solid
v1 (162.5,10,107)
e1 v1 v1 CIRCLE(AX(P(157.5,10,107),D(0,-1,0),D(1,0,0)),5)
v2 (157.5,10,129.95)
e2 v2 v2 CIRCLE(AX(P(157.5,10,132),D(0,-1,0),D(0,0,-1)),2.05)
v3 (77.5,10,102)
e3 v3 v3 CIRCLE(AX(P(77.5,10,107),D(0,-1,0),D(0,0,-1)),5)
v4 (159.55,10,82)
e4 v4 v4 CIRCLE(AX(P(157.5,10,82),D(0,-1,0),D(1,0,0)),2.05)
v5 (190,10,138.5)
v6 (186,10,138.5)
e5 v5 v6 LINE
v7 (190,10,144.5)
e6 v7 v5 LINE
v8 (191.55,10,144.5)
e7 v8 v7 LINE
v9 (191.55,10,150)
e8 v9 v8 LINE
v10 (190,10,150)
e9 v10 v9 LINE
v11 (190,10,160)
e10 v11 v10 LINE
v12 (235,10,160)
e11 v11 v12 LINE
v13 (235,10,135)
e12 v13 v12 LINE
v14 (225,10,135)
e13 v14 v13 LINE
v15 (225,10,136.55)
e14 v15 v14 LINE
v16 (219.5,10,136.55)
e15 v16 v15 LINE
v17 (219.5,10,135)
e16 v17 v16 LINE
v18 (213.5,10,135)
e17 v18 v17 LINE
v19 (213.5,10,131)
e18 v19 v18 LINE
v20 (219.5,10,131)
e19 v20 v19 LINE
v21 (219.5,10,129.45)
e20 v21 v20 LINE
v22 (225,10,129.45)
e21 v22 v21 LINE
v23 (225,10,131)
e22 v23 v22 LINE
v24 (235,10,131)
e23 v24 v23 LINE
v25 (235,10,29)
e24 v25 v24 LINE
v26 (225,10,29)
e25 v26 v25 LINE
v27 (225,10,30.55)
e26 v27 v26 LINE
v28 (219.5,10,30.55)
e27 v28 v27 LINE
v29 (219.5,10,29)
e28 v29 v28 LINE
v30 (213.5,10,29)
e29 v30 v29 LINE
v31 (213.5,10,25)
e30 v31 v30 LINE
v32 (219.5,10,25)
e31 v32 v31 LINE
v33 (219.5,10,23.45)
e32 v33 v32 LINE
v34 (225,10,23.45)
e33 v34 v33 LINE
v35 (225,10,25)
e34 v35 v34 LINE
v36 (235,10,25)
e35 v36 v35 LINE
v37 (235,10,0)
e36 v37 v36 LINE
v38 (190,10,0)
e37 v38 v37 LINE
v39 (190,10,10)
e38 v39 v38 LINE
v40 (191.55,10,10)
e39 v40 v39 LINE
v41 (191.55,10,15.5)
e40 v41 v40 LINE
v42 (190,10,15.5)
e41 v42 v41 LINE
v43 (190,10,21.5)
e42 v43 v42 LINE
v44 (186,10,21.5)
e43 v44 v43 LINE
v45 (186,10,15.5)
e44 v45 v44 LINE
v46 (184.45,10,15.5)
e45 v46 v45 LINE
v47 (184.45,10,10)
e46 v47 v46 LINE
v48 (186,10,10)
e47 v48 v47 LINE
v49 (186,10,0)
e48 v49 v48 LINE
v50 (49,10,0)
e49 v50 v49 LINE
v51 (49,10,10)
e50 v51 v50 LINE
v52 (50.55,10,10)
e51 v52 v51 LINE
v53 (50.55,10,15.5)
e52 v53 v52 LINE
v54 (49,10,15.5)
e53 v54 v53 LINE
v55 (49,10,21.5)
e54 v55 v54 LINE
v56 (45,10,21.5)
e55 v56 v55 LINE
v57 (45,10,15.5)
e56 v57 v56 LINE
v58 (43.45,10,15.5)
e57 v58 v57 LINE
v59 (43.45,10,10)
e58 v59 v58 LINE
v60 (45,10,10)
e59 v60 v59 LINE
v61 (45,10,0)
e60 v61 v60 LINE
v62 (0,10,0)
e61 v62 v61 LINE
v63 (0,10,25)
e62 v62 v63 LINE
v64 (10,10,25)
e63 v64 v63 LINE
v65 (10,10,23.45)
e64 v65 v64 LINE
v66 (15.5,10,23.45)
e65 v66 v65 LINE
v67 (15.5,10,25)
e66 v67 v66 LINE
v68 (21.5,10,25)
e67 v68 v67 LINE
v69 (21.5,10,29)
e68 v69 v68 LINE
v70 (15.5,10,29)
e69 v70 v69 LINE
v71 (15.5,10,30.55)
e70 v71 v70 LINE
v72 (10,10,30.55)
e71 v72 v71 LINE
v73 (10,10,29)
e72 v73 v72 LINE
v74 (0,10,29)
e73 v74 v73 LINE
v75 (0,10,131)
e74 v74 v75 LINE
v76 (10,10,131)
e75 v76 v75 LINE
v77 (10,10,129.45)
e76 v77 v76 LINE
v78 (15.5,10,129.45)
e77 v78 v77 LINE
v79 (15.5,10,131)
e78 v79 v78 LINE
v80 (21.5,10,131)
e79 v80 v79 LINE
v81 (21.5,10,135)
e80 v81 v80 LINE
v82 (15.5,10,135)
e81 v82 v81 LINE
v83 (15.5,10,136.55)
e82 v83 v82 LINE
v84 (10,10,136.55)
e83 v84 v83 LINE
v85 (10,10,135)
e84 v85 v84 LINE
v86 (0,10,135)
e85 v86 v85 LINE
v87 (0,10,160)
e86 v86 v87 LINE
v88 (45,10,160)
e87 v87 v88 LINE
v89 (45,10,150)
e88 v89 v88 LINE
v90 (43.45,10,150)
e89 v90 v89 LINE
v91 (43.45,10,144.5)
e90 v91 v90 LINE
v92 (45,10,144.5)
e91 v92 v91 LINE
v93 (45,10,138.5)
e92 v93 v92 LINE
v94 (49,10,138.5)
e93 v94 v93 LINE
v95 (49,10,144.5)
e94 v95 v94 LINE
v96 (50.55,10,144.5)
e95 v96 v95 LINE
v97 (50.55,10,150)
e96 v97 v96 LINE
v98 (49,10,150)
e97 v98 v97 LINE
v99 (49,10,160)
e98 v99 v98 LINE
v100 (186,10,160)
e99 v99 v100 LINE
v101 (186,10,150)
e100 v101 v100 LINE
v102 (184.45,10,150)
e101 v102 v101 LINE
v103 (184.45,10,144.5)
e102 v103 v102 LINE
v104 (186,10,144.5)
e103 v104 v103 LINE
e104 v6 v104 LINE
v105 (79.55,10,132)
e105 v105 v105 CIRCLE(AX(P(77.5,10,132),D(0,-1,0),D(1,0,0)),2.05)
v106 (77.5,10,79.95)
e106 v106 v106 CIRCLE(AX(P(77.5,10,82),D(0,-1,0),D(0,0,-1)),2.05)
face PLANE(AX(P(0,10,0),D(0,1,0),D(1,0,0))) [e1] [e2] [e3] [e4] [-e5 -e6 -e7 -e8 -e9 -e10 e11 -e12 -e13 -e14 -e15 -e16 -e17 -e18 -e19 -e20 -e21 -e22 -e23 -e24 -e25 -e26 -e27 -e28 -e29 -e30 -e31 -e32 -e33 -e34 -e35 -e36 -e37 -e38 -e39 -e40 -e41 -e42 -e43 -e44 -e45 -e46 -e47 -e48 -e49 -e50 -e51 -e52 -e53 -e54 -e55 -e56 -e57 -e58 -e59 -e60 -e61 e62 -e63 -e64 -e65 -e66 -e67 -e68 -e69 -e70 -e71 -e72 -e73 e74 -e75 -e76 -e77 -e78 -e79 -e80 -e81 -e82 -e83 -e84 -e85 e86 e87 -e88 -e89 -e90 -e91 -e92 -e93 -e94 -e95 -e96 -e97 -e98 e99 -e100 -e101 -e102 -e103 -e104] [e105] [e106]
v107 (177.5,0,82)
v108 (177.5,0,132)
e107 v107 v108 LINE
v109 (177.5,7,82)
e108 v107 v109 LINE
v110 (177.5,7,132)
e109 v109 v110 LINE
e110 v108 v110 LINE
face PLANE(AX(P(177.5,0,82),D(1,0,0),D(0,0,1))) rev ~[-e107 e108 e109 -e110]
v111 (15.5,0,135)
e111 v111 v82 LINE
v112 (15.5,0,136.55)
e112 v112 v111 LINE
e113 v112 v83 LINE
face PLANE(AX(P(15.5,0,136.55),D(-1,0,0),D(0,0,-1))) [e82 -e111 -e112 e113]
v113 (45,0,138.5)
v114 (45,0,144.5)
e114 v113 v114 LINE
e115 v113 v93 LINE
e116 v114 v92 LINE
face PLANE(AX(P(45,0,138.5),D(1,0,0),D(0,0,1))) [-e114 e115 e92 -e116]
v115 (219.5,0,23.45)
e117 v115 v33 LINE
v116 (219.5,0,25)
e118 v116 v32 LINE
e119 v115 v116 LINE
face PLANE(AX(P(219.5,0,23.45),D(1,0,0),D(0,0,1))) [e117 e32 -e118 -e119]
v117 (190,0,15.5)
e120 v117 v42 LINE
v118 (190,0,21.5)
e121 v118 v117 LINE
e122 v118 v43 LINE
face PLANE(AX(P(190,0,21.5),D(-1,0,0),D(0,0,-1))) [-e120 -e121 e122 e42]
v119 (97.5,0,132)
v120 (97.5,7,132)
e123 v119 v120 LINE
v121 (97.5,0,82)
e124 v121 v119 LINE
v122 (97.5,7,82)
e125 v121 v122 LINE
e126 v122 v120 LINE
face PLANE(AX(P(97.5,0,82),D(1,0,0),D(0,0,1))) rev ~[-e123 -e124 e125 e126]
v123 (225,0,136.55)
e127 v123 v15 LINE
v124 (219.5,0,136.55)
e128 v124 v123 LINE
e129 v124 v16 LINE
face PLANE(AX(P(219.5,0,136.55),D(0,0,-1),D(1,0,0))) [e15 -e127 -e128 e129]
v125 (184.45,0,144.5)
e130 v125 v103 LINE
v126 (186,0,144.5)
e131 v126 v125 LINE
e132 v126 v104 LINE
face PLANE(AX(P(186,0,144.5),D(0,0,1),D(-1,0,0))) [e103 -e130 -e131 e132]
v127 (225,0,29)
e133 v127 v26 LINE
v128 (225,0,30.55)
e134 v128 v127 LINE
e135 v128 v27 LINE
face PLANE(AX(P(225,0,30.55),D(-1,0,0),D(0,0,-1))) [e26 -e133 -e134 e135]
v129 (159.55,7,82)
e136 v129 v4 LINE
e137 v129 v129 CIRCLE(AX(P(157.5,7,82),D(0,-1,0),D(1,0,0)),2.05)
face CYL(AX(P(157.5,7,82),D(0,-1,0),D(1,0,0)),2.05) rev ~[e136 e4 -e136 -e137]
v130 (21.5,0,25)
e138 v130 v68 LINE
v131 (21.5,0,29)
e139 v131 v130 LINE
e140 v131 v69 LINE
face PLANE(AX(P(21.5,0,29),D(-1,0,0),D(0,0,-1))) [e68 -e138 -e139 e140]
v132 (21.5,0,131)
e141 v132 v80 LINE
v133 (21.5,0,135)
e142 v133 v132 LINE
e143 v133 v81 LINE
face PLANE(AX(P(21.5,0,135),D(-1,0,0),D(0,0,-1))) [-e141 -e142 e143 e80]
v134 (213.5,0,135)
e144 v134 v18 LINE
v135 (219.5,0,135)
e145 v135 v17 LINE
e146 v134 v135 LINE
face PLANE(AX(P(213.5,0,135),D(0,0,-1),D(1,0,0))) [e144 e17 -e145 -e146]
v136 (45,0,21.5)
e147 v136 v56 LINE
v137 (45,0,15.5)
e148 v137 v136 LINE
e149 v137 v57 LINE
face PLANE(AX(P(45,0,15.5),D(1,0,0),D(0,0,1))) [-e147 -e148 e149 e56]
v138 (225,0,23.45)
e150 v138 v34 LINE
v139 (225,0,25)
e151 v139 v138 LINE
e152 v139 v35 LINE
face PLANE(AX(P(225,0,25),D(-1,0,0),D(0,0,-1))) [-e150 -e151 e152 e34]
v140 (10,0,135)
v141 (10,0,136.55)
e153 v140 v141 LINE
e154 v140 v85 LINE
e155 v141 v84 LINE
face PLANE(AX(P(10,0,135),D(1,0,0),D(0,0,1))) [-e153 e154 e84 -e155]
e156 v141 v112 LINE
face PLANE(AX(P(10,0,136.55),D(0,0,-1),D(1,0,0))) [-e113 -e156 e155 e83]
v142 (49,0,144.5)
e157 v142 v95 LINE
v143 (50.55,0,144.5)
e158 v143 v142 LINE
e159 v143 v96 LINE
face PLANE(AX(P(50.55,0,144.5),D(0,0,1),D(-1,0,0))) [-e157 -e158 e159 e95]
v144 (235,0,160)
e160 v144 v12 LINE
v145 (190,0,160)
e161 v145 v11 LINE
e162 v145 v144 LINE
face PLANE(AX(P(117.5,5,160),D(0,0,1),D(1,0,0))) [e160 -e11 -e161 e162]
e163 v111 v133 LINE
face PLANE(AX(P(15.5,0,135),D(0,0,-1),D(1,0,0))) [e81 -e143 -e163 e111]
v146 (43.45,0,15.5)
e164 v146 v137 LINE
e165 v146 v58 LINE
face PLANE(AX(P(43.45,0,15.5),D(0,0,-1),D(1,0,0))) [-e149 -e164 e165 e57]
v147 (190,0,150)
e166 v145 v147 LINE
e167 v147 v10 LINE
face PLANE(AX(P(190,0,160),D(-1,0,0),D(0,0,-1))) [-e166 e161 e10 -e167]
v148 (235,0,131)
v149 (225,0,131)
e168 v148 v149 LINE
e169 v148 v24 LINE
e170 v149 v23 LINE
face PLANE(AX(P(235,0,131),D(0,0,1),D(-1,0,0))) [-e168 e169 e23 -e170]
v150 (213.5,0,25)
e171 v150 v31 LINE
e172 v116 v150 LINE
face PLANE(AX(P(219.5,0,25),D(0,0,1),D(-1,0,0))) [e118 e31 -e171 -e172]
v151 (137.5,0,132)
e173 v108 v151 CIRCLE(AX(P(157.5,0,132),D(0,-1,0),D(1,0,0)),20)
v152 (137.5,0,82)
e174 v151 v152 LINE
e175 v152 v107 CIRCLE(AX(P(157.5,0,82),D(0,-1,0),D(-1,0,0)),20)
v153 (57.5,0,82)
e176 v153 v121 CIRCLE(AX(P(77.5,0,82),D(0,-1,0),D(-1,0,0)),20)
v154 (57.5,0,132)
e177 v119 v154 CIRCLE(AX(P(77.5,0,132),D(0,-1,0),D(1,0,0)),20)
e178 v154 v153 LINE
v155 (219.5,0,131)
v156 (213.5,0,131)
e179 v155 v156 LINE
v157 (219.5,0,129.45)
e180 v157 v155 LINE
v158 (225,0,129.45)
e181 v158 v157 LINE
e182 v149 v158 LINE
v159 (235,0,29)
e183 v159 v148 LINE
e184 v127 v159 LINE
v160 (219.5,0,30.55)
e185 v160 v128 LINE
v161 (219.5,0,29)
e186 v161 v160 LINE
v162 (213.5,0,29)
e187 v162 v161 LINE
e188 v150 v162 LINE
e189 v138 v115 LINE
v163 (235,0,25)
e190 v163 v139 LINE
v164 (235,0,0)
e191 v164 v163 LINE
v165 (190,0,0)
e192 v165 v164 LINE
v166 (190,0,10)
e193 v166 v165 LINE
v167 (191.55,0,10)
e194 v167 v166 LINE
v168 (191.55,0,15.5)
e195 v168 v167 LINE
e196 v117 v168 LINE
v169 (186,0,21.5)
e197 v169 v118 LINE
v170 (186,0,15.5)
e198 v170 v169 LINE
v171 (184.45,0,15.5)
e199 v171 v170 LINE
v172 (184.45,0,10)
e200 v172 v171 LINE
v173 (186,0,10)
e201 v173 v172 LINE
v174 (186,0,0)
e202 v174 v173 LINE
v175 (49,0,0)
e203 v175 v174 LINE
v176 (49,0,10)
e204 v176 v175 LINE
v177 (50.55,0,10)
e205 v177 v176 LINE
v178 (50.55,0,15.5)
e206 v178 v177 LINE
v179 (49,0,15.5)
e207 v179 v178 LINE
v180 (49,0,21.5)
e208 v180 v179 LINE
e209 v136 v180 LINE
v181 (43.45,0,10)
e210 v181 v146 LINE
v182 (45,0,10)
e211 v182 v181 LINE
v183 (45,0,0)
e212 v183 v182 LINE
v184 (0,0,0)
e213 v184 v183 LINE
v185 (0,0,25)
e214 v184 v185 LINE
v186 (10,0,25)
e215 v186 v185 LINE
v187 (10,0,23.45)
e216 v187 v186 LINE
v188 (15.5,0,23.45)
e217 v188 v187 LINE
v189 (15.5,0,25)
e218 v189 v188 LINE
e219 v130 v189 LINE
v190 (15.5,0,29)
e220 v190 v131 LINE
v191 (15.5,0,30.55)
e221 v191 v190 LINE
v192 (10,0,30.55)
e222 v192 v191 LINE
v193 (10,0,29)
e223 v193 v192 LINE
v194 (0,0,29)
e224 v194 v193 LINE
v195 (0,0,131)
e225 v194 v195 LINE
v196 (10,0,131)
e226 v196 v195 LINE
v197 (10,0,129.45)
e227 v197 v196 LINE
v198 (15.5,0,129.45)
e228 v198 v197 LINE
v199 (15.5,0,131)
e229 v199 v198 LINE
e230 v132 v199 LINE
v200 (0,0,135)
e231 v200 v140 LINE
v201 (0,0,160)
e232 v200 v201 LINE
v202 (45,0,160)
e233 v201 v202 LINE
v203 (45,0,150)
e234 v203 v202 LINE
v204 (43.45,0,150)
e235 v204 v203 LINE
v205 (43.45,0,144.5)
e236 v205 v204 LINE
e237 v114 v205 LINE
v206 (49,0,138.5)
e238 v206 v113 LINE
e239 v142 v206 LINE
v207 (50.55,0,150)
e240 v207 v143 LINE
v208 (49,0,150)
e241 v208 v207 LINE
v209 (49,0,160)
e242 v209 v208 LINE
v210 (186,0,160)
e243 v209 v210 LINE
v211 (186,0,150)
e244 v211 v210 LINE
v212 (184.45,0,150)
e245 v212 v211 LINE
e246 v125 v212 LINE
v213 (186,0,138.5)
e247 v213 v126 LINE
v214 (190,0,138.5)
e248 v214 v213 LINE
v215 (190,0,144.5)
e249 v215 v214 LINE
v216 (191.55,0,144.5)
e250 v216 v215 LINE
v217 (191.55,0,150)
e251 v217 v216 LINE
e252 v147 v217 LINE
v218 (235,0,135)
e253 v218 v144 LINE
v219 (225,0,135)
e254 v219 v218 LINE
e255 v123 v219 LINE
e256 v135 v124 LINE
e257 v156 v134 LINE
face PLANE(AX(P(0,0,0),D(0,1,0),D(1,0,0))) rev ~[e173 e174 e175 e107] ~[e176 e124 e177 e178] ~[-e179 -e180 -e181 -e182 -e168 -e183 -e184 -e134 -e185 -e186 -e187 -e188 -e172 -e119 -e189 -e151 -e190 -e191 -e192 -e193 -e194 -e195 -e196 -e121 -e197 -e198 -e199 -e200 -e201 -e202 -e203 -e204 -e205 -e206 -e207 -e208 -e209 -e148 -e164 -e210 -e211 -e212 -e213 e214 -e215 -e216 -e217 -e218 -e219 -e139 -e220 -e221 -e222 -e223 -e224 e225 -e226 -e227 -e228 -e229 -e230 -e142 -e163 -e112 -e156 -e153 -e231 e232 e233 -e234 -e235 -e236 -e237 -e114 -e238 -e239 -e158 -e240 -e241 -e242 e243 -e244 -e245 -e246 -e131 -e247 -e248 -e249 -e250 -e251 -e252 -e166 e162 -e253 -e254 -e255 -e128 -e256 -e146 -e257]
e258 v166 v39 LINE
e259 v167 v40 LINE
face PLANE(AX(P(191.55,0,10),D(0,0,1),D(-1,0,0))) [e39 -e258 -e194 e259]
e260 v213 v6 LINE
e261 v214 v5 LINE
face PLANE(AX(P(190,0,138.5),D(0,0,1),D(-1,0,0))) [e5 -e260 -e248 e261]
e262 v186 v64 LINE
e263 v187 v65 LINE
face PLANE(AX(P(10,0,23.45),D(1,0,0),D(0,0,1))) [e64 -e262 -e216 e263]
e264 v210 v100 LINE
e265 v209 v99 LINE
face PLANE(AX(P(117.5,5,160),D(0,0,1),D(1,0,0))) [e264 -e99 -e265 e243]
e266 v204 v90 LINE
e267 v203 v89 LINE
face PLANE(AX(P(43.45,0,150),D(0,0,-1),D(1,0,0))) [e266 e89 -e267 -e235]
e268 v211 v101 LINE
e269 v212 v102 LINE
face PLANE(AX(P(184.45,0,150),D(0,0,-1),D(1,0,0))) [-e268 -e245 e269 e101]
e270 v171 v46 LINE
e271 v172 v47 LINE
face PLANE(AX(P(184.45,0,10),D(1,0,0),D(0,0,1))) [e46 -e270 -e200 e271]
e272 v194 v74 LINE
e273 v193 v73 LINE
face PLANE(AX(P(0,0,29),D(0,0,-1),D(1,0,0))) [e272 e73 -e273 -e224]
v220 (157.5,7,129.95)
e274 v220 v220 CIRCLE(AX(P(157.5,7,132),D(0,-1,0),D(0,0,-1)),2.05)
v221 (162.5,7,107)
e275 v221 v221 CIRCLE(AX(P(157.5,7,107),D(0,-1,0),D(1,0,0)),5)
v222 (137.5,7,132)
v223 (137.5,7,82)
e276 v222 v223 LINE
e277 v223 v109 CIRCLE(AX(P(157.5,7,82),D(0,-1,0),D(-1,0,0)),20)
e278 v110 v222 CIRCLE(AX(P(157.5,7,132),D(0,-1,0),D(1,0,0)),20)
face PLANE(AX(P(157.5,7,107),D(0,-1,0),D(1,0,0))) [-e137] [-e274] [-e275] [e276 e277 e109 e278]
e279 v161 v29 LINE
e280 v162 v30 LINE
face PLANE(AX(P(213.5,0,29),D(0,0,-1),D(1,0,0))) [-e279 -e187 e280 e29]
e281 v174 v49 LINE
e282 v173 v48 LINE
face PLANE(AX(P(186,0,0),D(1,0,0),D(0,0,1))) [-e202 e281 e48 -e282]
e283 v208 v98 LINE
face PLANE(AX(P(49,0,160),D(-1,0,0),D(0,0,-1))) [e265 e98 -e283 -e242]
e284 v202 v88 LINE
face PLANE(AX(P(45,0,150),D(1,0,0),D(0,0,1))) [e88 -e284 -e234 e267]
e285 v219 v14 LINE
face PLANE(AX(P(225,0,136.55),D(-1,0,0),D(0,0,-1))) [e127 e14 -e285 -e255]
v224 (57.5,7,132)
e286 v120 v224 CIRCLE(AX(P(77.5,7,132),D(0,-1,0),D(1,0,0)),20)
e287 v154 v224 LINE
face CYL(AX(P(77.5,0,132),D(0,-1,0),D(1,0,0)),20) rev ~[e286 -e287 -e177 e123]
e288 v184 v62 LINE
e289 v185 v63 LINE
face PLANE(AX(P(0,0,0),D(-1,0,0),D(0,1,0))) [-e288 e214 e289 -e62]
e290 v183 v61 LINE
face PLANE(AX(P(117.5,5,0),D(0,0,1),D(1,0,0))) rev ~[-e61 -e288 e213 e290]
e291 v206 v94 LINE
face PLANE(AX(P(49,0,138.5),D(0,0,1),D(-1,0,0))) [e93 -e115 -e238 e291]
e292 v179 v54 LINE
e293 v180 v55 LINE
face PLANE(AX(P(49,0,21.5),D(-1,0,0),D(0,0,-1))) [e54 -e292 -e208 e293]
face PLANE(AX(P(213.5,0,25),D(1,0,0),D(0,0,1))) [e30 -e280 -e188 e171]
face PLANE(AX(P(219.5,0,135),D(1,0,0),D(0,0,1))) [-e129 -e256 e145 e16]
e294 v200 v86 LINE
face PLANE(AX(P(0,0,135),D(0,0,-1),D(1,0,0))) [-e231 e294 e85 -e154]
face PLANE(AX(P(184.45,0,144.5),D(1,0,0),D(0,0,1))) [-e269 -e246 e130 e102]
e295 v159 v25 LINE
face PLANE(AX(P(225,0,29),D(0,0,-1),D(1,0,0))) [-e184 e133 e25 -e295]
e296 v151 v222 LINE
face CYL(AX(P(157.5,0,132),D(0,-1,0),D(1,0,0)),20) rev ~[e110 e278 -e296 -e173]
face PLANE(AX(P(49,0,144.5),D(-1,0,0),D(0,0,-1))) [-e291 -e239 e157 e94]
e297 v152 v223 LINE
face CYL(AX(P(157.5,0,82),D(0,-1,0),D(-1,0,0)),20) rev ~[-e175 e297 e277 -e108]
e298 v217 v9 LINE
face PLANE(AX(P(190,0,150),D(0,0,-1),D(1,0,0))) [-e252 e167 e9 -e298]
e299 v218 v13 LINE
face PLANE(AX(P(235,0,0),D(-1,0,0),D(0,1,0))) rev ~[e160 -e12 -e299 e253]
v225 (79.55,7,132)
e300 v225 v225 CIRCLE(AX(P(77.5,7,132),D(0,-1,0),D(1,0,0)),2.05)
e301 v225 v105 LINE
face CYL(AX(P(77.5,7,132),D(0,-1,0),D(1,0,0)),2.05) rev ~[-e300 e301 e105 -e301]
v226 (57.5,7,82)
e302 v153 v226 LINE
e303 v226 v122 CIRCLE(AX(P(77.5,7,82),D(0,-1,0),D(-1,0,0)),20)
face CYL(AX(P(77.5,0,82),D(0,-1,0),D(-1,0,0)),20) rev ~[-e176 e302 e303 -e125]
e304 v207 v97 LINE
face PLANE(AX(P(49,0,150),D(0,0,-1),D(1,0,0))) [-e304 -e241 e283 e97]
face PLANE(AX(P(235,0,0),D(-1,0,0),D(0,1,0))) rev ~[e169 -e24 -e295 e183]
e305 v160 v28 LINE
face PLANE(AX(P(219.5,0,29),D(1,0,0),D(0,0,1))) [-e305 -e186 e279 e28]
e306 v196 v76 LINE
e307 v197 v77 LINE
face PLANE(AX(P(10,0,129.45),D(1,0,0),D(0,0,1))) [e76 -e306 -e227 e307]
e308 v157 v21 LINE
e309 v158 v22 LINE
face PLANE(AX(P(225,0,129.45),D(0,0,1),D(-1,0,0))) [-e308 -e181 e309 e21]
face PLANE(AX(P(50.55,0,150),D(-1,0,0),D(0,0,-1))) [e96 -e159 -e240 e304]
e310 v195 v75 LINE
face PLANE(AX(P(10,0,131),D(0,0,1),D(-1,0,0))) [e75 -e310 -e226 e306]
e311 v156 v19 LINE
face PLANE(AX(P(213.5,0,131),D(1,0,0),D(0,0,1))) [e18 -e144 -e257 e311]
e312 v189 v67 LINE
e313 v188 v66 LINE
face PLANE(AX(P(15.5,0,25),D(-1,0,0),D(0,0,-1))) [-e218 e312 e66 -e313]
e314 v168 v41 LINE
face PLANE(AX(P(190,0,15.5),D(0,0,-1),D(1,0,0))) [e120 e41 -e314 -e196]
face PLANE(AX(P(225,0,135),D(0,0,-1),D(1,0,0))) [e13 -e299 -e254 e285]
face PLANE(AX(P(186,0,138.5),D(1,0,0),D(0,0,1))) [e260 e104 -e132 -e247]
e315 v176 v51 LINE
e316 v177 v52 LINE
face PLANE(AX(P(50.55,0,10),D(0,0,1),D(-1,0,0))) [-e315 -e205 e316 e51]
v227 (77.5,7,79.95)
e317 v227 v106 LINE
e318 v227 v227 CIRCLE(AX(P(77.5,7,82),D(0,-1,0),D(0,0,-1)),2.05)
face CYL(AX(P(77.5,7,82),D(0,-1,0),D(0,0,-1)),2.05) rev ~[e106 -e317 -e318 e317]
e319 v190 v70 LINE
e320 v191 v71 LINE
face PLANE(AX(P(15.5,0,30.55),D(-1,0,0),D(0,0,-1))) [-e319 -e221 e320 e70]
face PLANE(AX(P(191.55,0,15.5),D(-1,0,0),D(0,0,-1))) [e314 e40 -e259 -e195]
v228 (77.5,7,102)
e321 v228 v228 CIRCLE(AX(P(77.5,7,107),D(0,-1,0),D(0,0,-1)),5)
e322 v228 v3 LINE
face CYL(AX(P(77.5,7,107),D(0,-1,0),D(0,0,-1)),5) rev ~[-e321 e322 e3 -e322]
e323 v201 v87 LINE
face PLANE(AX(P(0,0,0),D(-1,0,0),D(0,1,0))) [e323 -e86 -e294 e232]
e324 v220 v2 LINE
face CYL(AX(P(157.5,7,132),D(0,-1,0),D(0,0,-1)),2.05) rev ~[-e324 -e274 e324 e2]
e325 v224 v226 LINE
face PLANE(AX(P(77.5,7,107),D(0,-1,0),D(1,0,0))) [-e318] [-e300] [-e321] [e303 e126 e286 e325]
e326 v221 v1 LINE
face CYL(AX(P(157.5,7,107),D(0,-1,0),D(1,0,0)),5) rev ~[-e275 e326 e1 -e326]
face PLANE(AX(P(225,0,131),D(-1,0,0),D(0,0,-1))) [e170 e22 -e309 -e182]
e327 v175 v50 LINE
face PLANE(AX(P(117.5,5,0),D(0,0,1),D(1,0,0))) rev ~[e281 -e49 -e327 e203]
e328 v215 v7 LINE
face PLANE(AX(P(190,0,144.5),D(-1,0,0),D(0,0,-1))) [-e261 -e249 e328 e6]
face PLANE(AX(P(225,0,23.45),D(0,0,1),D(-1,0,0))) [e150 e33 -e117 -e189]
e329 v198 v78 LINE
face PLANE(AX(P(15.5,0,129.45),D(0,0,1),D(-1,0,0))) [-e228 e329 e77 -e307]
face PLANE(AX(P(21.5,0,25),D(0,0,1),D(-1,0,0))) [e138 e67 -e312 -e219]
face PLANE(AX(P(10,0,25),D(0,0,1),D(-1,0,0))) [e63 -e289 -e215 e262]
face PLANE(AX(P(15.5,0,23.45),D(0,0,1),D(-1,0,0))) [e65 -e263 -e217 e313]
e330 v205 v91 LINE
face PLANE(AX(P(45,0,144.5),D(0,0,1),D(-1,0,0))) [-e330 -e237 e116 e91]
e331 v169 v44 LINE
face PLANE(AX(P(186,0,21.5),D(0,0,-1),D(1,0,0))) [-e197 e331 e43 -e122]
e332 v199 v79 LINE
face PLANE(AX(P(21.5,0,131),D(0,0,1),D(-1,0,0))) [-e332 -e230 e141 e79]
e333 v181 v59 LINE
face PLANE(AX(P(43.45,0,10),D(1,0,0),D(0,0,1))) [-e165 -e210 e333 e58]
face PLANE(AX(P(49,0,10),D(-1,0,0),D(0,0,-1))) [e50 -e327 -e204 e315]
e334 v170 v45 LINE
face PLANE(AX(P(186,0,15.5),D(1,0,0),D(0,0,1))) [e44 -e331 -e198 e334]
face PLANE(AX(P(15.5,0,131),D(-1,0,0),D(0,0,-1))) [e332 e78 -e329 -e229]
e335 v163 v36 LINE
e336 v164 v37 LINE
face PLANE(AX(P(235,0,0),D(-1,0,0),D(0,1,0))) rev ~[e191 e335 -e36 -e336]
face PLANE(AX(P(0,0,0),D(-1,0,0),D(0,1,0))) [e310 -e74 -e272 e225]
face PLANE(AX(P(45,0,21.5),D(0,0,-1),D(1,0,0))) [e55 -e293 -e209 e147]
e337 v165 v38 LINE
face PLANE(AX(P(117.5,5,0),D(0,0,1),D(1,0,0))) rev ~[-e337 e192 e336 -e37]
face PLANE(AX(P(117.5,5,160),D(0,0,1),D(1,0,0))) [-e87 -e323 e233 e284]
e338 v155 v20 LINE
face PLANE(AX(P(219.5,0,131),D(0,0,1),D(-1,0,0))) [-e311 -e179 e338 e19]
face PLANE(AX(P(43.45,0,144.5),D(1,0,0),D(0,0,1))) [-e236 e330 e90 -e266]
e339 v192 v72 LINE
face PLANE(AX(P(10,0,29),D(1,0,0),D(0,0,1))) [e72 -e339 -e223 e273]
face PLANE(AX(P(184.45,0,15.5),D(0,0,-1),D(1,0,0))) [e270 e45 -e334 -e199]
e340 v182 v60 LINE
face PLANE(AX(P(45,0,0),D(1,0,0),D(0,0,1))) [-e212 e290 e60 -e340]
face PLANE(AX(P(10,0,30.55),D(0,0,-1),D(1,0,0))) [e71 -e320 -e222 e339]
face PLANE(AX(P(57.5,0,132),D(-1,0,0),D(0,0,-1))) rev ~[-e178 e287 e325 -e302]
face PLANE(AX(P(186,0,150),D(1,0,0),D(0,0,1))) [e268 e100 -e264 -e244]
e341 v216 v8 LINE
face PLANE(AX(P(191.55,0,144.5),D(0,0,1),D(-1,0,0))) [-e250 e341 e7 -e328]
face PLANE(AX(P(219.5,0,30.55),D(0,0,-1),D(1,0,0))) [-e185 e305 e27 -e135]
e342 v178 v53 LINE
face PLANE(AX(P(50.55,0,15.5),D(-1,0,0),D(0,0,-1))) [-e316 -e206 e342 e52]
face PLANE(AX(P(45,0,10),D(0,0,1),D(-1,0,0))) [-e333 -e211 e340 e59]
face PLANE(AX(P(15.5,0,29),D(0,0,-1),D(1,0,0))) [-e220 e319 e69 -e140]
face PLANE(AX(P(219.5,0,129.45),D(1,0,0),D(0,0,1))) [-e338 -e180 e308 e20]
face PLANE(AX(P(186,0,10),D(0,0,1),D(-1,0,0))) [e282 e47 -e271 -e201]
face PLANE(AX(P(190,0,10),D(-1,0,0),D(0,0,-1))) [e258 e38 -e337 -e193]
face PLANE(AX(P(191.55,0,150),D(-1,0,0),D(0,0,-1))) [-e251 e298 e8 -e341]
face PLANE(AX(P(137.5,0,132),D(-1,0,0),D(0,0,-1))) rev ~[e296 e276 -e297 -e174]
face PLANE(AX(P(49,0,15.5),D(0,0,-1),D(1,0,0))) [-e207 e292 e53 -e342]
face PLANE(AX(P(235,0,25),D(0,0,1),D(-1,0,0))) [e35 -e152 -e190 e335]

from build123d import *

# Parameters (mm, degrees)
SKETCH1_W               = 235
SKETCH1_H               = 10
BOSS_EXTRUDE1_DEPTH     = 160
CUT_EXTRUDE1_DEPTH      = 7
SKETCH5_R               = 5
CUT_EXTRUDE2_DEPTH      = 33
SKETCH6_R               = 2.05
CUT_EXTRUDE3_DEPTH      = 33
ENL_V_MAT_EXTRU_2_DEPTH = 10
ENL_V_MAT_EXTRU_3_DEPTH = 10


with BuildPart() as part:
    # Sketch1 → Boss-Extrude1 (new body)
    with BuildSketch(Plane.XY):
        with Locations((117.5, 5)):
            Rectangle(SKETCH1_W, SKETCH1_H)
    extrude(amount=BOSS_EXTRUDE1_DEPTH)

    # Sketch3 → Cut-Extrude1 (cut)
    with BuildSketch(Plane.XZ):
        with BuildLine():
            Line((137.5, 132), (137.5, 82))
            ThreePointArc((137.5, 82), (157.5, 62), (177.5, 82))
            Line((177.5, 82), (177.5, 132))
            ThreePointArc((177.5, 132), (157.5, 152), (137.5, 132))
        make_face()
        with BuildLine():
            Line((57.5, 132), (57.5, 82))
            ThreePointArc((57.5, 82), (77.5, 62), (97.5, 82))
            Line((97.5, 82), (97.5, 132))
            ThreePointArc((97.5, 132), (77.5, 152), (57.5, 132))
        make_face()
    extrude(amount=-CUT_EXTRUDE1_DEPTH, mode=Mode.SUBTRACT)

    # Sketch5 → Cut-Extrude2 (cut)
    with BuildSketch(Plane.XZ.offset(-7)):
        with Locations(Location((77.5, 107, 0), (0, 0, 270))):
            Circle(SKETCH5_R)
        with Locations((157.5, 107)):
            Circle(SKETCH5_R)
    extrude(amount=-CUT_EXTRUDE2_DEPTH, mode=Mode.SUBTRACT)

    # Sketch6 → Cut-Extrude3 (cut)
    with BuildSketch(Plane.XZ.offset(-7)):
        with Locations(Location((77.5, 82, 0), (0, 0, 270))):
            Circle(SKETCH6_R)
        with Locations((77.5, 132)):
            Circle(SKETCH6_R)
        with Locations((157.5, 82)):
            Circle(SKETCH6_R)
        with Locations(Location((157.5, 132, 0), (0, 0, 270))):
            Circle(SKETCH6_R)
    extrude(amount=-CUT_EXTRUDE3_DEPTH, mode=Mode.SUBTRACT)

    # Esquisse2 → Enlèv. mat.-Extru.2 (cut)
    with BuildSketch(Plane.XZ):
        Polygon((0, 135), (10, 135), (10, 136.55), (15.5, 136.55), (15.5, 135), (21.5, 135), (21.5, 131), (15.5, 131), (15.5, 129.45), (10, 129.45), (10, 131), (0, 131), align=None)
        Polygon((0, 29), (10, 29), (10, 30.55), (15.5, 30.55), (15.5, 29), (21.5, 29), (21.5, 25), (15.5, 25), (15.5, 23.45), (10, 23.45), (10, 25), (0, 25), align=None)
        Polygon((235, 25), (225, 25), (225, 23.45), (219.5, 23.45), (219.5, 25), (213.5, 25), (213.5, 29), (219.5, 29), (219.5, 30.55), (225, 30.55), (225, 29), (235, 29), align=None)
        Polygon((235, 131), (225, 131), (225, 129.45), (219.5, 129.45), (219.5, 131), (213.5, 131), (213.5, 135), (219.5, 135), (219.5, 136.55), (225, 136.55), (225, 135), (235, 135), align=None)
    extrude(amount=-ENL_V_MAT_EXTRU_2_DEPTH, mode=Mode.SUBTRACT)

    # Esquisse3 → Enlèv. mat.-Extru.3 (cut)
    with BuildSketch(Plane.XZ):
        Polygon((49, 160), (49, 150), (50.55, 150), (50.55, 144.5), (49, 144.5), (49, 138.5), (45, 138.5), (45, 144.5), (43.45, 144.5), (43.45, 150), (45, 150), (45, 160), align=None)
        Polygon((190, 138.5), (186, 138.5), (186, 144.5), (184.45, 144.5), (184.45, 150), (186, 150), (186, 160), (190, 160), (190, 150), (191.55, 150), (191.55, 144.5), (190, 144.5), align=None)
        Polygon((186, 0), (186, 10), (184.45, 10), (184.45, 15.5), (186, 15.5), (186, 21.5), (190, 21.5), (190, 15.5), (191.55, 15.5), (191.55, 10), (190, 10), (190, 0), align=None)
        Polygon((45, 21.5), (49, 21.5), (49, 15.5), (50.55, 15.5), (50.55, 10), (49, 10), (49, 0), (45, 0), (45, 10), (43.45, 10), (43.45, 15.5), (45, 15.5), align=None)
    extrude(amount=-ENL_V_MAT_EXTRU_3_DEPTH, mode=Mode.SUBTRACT)


solid = part.part
